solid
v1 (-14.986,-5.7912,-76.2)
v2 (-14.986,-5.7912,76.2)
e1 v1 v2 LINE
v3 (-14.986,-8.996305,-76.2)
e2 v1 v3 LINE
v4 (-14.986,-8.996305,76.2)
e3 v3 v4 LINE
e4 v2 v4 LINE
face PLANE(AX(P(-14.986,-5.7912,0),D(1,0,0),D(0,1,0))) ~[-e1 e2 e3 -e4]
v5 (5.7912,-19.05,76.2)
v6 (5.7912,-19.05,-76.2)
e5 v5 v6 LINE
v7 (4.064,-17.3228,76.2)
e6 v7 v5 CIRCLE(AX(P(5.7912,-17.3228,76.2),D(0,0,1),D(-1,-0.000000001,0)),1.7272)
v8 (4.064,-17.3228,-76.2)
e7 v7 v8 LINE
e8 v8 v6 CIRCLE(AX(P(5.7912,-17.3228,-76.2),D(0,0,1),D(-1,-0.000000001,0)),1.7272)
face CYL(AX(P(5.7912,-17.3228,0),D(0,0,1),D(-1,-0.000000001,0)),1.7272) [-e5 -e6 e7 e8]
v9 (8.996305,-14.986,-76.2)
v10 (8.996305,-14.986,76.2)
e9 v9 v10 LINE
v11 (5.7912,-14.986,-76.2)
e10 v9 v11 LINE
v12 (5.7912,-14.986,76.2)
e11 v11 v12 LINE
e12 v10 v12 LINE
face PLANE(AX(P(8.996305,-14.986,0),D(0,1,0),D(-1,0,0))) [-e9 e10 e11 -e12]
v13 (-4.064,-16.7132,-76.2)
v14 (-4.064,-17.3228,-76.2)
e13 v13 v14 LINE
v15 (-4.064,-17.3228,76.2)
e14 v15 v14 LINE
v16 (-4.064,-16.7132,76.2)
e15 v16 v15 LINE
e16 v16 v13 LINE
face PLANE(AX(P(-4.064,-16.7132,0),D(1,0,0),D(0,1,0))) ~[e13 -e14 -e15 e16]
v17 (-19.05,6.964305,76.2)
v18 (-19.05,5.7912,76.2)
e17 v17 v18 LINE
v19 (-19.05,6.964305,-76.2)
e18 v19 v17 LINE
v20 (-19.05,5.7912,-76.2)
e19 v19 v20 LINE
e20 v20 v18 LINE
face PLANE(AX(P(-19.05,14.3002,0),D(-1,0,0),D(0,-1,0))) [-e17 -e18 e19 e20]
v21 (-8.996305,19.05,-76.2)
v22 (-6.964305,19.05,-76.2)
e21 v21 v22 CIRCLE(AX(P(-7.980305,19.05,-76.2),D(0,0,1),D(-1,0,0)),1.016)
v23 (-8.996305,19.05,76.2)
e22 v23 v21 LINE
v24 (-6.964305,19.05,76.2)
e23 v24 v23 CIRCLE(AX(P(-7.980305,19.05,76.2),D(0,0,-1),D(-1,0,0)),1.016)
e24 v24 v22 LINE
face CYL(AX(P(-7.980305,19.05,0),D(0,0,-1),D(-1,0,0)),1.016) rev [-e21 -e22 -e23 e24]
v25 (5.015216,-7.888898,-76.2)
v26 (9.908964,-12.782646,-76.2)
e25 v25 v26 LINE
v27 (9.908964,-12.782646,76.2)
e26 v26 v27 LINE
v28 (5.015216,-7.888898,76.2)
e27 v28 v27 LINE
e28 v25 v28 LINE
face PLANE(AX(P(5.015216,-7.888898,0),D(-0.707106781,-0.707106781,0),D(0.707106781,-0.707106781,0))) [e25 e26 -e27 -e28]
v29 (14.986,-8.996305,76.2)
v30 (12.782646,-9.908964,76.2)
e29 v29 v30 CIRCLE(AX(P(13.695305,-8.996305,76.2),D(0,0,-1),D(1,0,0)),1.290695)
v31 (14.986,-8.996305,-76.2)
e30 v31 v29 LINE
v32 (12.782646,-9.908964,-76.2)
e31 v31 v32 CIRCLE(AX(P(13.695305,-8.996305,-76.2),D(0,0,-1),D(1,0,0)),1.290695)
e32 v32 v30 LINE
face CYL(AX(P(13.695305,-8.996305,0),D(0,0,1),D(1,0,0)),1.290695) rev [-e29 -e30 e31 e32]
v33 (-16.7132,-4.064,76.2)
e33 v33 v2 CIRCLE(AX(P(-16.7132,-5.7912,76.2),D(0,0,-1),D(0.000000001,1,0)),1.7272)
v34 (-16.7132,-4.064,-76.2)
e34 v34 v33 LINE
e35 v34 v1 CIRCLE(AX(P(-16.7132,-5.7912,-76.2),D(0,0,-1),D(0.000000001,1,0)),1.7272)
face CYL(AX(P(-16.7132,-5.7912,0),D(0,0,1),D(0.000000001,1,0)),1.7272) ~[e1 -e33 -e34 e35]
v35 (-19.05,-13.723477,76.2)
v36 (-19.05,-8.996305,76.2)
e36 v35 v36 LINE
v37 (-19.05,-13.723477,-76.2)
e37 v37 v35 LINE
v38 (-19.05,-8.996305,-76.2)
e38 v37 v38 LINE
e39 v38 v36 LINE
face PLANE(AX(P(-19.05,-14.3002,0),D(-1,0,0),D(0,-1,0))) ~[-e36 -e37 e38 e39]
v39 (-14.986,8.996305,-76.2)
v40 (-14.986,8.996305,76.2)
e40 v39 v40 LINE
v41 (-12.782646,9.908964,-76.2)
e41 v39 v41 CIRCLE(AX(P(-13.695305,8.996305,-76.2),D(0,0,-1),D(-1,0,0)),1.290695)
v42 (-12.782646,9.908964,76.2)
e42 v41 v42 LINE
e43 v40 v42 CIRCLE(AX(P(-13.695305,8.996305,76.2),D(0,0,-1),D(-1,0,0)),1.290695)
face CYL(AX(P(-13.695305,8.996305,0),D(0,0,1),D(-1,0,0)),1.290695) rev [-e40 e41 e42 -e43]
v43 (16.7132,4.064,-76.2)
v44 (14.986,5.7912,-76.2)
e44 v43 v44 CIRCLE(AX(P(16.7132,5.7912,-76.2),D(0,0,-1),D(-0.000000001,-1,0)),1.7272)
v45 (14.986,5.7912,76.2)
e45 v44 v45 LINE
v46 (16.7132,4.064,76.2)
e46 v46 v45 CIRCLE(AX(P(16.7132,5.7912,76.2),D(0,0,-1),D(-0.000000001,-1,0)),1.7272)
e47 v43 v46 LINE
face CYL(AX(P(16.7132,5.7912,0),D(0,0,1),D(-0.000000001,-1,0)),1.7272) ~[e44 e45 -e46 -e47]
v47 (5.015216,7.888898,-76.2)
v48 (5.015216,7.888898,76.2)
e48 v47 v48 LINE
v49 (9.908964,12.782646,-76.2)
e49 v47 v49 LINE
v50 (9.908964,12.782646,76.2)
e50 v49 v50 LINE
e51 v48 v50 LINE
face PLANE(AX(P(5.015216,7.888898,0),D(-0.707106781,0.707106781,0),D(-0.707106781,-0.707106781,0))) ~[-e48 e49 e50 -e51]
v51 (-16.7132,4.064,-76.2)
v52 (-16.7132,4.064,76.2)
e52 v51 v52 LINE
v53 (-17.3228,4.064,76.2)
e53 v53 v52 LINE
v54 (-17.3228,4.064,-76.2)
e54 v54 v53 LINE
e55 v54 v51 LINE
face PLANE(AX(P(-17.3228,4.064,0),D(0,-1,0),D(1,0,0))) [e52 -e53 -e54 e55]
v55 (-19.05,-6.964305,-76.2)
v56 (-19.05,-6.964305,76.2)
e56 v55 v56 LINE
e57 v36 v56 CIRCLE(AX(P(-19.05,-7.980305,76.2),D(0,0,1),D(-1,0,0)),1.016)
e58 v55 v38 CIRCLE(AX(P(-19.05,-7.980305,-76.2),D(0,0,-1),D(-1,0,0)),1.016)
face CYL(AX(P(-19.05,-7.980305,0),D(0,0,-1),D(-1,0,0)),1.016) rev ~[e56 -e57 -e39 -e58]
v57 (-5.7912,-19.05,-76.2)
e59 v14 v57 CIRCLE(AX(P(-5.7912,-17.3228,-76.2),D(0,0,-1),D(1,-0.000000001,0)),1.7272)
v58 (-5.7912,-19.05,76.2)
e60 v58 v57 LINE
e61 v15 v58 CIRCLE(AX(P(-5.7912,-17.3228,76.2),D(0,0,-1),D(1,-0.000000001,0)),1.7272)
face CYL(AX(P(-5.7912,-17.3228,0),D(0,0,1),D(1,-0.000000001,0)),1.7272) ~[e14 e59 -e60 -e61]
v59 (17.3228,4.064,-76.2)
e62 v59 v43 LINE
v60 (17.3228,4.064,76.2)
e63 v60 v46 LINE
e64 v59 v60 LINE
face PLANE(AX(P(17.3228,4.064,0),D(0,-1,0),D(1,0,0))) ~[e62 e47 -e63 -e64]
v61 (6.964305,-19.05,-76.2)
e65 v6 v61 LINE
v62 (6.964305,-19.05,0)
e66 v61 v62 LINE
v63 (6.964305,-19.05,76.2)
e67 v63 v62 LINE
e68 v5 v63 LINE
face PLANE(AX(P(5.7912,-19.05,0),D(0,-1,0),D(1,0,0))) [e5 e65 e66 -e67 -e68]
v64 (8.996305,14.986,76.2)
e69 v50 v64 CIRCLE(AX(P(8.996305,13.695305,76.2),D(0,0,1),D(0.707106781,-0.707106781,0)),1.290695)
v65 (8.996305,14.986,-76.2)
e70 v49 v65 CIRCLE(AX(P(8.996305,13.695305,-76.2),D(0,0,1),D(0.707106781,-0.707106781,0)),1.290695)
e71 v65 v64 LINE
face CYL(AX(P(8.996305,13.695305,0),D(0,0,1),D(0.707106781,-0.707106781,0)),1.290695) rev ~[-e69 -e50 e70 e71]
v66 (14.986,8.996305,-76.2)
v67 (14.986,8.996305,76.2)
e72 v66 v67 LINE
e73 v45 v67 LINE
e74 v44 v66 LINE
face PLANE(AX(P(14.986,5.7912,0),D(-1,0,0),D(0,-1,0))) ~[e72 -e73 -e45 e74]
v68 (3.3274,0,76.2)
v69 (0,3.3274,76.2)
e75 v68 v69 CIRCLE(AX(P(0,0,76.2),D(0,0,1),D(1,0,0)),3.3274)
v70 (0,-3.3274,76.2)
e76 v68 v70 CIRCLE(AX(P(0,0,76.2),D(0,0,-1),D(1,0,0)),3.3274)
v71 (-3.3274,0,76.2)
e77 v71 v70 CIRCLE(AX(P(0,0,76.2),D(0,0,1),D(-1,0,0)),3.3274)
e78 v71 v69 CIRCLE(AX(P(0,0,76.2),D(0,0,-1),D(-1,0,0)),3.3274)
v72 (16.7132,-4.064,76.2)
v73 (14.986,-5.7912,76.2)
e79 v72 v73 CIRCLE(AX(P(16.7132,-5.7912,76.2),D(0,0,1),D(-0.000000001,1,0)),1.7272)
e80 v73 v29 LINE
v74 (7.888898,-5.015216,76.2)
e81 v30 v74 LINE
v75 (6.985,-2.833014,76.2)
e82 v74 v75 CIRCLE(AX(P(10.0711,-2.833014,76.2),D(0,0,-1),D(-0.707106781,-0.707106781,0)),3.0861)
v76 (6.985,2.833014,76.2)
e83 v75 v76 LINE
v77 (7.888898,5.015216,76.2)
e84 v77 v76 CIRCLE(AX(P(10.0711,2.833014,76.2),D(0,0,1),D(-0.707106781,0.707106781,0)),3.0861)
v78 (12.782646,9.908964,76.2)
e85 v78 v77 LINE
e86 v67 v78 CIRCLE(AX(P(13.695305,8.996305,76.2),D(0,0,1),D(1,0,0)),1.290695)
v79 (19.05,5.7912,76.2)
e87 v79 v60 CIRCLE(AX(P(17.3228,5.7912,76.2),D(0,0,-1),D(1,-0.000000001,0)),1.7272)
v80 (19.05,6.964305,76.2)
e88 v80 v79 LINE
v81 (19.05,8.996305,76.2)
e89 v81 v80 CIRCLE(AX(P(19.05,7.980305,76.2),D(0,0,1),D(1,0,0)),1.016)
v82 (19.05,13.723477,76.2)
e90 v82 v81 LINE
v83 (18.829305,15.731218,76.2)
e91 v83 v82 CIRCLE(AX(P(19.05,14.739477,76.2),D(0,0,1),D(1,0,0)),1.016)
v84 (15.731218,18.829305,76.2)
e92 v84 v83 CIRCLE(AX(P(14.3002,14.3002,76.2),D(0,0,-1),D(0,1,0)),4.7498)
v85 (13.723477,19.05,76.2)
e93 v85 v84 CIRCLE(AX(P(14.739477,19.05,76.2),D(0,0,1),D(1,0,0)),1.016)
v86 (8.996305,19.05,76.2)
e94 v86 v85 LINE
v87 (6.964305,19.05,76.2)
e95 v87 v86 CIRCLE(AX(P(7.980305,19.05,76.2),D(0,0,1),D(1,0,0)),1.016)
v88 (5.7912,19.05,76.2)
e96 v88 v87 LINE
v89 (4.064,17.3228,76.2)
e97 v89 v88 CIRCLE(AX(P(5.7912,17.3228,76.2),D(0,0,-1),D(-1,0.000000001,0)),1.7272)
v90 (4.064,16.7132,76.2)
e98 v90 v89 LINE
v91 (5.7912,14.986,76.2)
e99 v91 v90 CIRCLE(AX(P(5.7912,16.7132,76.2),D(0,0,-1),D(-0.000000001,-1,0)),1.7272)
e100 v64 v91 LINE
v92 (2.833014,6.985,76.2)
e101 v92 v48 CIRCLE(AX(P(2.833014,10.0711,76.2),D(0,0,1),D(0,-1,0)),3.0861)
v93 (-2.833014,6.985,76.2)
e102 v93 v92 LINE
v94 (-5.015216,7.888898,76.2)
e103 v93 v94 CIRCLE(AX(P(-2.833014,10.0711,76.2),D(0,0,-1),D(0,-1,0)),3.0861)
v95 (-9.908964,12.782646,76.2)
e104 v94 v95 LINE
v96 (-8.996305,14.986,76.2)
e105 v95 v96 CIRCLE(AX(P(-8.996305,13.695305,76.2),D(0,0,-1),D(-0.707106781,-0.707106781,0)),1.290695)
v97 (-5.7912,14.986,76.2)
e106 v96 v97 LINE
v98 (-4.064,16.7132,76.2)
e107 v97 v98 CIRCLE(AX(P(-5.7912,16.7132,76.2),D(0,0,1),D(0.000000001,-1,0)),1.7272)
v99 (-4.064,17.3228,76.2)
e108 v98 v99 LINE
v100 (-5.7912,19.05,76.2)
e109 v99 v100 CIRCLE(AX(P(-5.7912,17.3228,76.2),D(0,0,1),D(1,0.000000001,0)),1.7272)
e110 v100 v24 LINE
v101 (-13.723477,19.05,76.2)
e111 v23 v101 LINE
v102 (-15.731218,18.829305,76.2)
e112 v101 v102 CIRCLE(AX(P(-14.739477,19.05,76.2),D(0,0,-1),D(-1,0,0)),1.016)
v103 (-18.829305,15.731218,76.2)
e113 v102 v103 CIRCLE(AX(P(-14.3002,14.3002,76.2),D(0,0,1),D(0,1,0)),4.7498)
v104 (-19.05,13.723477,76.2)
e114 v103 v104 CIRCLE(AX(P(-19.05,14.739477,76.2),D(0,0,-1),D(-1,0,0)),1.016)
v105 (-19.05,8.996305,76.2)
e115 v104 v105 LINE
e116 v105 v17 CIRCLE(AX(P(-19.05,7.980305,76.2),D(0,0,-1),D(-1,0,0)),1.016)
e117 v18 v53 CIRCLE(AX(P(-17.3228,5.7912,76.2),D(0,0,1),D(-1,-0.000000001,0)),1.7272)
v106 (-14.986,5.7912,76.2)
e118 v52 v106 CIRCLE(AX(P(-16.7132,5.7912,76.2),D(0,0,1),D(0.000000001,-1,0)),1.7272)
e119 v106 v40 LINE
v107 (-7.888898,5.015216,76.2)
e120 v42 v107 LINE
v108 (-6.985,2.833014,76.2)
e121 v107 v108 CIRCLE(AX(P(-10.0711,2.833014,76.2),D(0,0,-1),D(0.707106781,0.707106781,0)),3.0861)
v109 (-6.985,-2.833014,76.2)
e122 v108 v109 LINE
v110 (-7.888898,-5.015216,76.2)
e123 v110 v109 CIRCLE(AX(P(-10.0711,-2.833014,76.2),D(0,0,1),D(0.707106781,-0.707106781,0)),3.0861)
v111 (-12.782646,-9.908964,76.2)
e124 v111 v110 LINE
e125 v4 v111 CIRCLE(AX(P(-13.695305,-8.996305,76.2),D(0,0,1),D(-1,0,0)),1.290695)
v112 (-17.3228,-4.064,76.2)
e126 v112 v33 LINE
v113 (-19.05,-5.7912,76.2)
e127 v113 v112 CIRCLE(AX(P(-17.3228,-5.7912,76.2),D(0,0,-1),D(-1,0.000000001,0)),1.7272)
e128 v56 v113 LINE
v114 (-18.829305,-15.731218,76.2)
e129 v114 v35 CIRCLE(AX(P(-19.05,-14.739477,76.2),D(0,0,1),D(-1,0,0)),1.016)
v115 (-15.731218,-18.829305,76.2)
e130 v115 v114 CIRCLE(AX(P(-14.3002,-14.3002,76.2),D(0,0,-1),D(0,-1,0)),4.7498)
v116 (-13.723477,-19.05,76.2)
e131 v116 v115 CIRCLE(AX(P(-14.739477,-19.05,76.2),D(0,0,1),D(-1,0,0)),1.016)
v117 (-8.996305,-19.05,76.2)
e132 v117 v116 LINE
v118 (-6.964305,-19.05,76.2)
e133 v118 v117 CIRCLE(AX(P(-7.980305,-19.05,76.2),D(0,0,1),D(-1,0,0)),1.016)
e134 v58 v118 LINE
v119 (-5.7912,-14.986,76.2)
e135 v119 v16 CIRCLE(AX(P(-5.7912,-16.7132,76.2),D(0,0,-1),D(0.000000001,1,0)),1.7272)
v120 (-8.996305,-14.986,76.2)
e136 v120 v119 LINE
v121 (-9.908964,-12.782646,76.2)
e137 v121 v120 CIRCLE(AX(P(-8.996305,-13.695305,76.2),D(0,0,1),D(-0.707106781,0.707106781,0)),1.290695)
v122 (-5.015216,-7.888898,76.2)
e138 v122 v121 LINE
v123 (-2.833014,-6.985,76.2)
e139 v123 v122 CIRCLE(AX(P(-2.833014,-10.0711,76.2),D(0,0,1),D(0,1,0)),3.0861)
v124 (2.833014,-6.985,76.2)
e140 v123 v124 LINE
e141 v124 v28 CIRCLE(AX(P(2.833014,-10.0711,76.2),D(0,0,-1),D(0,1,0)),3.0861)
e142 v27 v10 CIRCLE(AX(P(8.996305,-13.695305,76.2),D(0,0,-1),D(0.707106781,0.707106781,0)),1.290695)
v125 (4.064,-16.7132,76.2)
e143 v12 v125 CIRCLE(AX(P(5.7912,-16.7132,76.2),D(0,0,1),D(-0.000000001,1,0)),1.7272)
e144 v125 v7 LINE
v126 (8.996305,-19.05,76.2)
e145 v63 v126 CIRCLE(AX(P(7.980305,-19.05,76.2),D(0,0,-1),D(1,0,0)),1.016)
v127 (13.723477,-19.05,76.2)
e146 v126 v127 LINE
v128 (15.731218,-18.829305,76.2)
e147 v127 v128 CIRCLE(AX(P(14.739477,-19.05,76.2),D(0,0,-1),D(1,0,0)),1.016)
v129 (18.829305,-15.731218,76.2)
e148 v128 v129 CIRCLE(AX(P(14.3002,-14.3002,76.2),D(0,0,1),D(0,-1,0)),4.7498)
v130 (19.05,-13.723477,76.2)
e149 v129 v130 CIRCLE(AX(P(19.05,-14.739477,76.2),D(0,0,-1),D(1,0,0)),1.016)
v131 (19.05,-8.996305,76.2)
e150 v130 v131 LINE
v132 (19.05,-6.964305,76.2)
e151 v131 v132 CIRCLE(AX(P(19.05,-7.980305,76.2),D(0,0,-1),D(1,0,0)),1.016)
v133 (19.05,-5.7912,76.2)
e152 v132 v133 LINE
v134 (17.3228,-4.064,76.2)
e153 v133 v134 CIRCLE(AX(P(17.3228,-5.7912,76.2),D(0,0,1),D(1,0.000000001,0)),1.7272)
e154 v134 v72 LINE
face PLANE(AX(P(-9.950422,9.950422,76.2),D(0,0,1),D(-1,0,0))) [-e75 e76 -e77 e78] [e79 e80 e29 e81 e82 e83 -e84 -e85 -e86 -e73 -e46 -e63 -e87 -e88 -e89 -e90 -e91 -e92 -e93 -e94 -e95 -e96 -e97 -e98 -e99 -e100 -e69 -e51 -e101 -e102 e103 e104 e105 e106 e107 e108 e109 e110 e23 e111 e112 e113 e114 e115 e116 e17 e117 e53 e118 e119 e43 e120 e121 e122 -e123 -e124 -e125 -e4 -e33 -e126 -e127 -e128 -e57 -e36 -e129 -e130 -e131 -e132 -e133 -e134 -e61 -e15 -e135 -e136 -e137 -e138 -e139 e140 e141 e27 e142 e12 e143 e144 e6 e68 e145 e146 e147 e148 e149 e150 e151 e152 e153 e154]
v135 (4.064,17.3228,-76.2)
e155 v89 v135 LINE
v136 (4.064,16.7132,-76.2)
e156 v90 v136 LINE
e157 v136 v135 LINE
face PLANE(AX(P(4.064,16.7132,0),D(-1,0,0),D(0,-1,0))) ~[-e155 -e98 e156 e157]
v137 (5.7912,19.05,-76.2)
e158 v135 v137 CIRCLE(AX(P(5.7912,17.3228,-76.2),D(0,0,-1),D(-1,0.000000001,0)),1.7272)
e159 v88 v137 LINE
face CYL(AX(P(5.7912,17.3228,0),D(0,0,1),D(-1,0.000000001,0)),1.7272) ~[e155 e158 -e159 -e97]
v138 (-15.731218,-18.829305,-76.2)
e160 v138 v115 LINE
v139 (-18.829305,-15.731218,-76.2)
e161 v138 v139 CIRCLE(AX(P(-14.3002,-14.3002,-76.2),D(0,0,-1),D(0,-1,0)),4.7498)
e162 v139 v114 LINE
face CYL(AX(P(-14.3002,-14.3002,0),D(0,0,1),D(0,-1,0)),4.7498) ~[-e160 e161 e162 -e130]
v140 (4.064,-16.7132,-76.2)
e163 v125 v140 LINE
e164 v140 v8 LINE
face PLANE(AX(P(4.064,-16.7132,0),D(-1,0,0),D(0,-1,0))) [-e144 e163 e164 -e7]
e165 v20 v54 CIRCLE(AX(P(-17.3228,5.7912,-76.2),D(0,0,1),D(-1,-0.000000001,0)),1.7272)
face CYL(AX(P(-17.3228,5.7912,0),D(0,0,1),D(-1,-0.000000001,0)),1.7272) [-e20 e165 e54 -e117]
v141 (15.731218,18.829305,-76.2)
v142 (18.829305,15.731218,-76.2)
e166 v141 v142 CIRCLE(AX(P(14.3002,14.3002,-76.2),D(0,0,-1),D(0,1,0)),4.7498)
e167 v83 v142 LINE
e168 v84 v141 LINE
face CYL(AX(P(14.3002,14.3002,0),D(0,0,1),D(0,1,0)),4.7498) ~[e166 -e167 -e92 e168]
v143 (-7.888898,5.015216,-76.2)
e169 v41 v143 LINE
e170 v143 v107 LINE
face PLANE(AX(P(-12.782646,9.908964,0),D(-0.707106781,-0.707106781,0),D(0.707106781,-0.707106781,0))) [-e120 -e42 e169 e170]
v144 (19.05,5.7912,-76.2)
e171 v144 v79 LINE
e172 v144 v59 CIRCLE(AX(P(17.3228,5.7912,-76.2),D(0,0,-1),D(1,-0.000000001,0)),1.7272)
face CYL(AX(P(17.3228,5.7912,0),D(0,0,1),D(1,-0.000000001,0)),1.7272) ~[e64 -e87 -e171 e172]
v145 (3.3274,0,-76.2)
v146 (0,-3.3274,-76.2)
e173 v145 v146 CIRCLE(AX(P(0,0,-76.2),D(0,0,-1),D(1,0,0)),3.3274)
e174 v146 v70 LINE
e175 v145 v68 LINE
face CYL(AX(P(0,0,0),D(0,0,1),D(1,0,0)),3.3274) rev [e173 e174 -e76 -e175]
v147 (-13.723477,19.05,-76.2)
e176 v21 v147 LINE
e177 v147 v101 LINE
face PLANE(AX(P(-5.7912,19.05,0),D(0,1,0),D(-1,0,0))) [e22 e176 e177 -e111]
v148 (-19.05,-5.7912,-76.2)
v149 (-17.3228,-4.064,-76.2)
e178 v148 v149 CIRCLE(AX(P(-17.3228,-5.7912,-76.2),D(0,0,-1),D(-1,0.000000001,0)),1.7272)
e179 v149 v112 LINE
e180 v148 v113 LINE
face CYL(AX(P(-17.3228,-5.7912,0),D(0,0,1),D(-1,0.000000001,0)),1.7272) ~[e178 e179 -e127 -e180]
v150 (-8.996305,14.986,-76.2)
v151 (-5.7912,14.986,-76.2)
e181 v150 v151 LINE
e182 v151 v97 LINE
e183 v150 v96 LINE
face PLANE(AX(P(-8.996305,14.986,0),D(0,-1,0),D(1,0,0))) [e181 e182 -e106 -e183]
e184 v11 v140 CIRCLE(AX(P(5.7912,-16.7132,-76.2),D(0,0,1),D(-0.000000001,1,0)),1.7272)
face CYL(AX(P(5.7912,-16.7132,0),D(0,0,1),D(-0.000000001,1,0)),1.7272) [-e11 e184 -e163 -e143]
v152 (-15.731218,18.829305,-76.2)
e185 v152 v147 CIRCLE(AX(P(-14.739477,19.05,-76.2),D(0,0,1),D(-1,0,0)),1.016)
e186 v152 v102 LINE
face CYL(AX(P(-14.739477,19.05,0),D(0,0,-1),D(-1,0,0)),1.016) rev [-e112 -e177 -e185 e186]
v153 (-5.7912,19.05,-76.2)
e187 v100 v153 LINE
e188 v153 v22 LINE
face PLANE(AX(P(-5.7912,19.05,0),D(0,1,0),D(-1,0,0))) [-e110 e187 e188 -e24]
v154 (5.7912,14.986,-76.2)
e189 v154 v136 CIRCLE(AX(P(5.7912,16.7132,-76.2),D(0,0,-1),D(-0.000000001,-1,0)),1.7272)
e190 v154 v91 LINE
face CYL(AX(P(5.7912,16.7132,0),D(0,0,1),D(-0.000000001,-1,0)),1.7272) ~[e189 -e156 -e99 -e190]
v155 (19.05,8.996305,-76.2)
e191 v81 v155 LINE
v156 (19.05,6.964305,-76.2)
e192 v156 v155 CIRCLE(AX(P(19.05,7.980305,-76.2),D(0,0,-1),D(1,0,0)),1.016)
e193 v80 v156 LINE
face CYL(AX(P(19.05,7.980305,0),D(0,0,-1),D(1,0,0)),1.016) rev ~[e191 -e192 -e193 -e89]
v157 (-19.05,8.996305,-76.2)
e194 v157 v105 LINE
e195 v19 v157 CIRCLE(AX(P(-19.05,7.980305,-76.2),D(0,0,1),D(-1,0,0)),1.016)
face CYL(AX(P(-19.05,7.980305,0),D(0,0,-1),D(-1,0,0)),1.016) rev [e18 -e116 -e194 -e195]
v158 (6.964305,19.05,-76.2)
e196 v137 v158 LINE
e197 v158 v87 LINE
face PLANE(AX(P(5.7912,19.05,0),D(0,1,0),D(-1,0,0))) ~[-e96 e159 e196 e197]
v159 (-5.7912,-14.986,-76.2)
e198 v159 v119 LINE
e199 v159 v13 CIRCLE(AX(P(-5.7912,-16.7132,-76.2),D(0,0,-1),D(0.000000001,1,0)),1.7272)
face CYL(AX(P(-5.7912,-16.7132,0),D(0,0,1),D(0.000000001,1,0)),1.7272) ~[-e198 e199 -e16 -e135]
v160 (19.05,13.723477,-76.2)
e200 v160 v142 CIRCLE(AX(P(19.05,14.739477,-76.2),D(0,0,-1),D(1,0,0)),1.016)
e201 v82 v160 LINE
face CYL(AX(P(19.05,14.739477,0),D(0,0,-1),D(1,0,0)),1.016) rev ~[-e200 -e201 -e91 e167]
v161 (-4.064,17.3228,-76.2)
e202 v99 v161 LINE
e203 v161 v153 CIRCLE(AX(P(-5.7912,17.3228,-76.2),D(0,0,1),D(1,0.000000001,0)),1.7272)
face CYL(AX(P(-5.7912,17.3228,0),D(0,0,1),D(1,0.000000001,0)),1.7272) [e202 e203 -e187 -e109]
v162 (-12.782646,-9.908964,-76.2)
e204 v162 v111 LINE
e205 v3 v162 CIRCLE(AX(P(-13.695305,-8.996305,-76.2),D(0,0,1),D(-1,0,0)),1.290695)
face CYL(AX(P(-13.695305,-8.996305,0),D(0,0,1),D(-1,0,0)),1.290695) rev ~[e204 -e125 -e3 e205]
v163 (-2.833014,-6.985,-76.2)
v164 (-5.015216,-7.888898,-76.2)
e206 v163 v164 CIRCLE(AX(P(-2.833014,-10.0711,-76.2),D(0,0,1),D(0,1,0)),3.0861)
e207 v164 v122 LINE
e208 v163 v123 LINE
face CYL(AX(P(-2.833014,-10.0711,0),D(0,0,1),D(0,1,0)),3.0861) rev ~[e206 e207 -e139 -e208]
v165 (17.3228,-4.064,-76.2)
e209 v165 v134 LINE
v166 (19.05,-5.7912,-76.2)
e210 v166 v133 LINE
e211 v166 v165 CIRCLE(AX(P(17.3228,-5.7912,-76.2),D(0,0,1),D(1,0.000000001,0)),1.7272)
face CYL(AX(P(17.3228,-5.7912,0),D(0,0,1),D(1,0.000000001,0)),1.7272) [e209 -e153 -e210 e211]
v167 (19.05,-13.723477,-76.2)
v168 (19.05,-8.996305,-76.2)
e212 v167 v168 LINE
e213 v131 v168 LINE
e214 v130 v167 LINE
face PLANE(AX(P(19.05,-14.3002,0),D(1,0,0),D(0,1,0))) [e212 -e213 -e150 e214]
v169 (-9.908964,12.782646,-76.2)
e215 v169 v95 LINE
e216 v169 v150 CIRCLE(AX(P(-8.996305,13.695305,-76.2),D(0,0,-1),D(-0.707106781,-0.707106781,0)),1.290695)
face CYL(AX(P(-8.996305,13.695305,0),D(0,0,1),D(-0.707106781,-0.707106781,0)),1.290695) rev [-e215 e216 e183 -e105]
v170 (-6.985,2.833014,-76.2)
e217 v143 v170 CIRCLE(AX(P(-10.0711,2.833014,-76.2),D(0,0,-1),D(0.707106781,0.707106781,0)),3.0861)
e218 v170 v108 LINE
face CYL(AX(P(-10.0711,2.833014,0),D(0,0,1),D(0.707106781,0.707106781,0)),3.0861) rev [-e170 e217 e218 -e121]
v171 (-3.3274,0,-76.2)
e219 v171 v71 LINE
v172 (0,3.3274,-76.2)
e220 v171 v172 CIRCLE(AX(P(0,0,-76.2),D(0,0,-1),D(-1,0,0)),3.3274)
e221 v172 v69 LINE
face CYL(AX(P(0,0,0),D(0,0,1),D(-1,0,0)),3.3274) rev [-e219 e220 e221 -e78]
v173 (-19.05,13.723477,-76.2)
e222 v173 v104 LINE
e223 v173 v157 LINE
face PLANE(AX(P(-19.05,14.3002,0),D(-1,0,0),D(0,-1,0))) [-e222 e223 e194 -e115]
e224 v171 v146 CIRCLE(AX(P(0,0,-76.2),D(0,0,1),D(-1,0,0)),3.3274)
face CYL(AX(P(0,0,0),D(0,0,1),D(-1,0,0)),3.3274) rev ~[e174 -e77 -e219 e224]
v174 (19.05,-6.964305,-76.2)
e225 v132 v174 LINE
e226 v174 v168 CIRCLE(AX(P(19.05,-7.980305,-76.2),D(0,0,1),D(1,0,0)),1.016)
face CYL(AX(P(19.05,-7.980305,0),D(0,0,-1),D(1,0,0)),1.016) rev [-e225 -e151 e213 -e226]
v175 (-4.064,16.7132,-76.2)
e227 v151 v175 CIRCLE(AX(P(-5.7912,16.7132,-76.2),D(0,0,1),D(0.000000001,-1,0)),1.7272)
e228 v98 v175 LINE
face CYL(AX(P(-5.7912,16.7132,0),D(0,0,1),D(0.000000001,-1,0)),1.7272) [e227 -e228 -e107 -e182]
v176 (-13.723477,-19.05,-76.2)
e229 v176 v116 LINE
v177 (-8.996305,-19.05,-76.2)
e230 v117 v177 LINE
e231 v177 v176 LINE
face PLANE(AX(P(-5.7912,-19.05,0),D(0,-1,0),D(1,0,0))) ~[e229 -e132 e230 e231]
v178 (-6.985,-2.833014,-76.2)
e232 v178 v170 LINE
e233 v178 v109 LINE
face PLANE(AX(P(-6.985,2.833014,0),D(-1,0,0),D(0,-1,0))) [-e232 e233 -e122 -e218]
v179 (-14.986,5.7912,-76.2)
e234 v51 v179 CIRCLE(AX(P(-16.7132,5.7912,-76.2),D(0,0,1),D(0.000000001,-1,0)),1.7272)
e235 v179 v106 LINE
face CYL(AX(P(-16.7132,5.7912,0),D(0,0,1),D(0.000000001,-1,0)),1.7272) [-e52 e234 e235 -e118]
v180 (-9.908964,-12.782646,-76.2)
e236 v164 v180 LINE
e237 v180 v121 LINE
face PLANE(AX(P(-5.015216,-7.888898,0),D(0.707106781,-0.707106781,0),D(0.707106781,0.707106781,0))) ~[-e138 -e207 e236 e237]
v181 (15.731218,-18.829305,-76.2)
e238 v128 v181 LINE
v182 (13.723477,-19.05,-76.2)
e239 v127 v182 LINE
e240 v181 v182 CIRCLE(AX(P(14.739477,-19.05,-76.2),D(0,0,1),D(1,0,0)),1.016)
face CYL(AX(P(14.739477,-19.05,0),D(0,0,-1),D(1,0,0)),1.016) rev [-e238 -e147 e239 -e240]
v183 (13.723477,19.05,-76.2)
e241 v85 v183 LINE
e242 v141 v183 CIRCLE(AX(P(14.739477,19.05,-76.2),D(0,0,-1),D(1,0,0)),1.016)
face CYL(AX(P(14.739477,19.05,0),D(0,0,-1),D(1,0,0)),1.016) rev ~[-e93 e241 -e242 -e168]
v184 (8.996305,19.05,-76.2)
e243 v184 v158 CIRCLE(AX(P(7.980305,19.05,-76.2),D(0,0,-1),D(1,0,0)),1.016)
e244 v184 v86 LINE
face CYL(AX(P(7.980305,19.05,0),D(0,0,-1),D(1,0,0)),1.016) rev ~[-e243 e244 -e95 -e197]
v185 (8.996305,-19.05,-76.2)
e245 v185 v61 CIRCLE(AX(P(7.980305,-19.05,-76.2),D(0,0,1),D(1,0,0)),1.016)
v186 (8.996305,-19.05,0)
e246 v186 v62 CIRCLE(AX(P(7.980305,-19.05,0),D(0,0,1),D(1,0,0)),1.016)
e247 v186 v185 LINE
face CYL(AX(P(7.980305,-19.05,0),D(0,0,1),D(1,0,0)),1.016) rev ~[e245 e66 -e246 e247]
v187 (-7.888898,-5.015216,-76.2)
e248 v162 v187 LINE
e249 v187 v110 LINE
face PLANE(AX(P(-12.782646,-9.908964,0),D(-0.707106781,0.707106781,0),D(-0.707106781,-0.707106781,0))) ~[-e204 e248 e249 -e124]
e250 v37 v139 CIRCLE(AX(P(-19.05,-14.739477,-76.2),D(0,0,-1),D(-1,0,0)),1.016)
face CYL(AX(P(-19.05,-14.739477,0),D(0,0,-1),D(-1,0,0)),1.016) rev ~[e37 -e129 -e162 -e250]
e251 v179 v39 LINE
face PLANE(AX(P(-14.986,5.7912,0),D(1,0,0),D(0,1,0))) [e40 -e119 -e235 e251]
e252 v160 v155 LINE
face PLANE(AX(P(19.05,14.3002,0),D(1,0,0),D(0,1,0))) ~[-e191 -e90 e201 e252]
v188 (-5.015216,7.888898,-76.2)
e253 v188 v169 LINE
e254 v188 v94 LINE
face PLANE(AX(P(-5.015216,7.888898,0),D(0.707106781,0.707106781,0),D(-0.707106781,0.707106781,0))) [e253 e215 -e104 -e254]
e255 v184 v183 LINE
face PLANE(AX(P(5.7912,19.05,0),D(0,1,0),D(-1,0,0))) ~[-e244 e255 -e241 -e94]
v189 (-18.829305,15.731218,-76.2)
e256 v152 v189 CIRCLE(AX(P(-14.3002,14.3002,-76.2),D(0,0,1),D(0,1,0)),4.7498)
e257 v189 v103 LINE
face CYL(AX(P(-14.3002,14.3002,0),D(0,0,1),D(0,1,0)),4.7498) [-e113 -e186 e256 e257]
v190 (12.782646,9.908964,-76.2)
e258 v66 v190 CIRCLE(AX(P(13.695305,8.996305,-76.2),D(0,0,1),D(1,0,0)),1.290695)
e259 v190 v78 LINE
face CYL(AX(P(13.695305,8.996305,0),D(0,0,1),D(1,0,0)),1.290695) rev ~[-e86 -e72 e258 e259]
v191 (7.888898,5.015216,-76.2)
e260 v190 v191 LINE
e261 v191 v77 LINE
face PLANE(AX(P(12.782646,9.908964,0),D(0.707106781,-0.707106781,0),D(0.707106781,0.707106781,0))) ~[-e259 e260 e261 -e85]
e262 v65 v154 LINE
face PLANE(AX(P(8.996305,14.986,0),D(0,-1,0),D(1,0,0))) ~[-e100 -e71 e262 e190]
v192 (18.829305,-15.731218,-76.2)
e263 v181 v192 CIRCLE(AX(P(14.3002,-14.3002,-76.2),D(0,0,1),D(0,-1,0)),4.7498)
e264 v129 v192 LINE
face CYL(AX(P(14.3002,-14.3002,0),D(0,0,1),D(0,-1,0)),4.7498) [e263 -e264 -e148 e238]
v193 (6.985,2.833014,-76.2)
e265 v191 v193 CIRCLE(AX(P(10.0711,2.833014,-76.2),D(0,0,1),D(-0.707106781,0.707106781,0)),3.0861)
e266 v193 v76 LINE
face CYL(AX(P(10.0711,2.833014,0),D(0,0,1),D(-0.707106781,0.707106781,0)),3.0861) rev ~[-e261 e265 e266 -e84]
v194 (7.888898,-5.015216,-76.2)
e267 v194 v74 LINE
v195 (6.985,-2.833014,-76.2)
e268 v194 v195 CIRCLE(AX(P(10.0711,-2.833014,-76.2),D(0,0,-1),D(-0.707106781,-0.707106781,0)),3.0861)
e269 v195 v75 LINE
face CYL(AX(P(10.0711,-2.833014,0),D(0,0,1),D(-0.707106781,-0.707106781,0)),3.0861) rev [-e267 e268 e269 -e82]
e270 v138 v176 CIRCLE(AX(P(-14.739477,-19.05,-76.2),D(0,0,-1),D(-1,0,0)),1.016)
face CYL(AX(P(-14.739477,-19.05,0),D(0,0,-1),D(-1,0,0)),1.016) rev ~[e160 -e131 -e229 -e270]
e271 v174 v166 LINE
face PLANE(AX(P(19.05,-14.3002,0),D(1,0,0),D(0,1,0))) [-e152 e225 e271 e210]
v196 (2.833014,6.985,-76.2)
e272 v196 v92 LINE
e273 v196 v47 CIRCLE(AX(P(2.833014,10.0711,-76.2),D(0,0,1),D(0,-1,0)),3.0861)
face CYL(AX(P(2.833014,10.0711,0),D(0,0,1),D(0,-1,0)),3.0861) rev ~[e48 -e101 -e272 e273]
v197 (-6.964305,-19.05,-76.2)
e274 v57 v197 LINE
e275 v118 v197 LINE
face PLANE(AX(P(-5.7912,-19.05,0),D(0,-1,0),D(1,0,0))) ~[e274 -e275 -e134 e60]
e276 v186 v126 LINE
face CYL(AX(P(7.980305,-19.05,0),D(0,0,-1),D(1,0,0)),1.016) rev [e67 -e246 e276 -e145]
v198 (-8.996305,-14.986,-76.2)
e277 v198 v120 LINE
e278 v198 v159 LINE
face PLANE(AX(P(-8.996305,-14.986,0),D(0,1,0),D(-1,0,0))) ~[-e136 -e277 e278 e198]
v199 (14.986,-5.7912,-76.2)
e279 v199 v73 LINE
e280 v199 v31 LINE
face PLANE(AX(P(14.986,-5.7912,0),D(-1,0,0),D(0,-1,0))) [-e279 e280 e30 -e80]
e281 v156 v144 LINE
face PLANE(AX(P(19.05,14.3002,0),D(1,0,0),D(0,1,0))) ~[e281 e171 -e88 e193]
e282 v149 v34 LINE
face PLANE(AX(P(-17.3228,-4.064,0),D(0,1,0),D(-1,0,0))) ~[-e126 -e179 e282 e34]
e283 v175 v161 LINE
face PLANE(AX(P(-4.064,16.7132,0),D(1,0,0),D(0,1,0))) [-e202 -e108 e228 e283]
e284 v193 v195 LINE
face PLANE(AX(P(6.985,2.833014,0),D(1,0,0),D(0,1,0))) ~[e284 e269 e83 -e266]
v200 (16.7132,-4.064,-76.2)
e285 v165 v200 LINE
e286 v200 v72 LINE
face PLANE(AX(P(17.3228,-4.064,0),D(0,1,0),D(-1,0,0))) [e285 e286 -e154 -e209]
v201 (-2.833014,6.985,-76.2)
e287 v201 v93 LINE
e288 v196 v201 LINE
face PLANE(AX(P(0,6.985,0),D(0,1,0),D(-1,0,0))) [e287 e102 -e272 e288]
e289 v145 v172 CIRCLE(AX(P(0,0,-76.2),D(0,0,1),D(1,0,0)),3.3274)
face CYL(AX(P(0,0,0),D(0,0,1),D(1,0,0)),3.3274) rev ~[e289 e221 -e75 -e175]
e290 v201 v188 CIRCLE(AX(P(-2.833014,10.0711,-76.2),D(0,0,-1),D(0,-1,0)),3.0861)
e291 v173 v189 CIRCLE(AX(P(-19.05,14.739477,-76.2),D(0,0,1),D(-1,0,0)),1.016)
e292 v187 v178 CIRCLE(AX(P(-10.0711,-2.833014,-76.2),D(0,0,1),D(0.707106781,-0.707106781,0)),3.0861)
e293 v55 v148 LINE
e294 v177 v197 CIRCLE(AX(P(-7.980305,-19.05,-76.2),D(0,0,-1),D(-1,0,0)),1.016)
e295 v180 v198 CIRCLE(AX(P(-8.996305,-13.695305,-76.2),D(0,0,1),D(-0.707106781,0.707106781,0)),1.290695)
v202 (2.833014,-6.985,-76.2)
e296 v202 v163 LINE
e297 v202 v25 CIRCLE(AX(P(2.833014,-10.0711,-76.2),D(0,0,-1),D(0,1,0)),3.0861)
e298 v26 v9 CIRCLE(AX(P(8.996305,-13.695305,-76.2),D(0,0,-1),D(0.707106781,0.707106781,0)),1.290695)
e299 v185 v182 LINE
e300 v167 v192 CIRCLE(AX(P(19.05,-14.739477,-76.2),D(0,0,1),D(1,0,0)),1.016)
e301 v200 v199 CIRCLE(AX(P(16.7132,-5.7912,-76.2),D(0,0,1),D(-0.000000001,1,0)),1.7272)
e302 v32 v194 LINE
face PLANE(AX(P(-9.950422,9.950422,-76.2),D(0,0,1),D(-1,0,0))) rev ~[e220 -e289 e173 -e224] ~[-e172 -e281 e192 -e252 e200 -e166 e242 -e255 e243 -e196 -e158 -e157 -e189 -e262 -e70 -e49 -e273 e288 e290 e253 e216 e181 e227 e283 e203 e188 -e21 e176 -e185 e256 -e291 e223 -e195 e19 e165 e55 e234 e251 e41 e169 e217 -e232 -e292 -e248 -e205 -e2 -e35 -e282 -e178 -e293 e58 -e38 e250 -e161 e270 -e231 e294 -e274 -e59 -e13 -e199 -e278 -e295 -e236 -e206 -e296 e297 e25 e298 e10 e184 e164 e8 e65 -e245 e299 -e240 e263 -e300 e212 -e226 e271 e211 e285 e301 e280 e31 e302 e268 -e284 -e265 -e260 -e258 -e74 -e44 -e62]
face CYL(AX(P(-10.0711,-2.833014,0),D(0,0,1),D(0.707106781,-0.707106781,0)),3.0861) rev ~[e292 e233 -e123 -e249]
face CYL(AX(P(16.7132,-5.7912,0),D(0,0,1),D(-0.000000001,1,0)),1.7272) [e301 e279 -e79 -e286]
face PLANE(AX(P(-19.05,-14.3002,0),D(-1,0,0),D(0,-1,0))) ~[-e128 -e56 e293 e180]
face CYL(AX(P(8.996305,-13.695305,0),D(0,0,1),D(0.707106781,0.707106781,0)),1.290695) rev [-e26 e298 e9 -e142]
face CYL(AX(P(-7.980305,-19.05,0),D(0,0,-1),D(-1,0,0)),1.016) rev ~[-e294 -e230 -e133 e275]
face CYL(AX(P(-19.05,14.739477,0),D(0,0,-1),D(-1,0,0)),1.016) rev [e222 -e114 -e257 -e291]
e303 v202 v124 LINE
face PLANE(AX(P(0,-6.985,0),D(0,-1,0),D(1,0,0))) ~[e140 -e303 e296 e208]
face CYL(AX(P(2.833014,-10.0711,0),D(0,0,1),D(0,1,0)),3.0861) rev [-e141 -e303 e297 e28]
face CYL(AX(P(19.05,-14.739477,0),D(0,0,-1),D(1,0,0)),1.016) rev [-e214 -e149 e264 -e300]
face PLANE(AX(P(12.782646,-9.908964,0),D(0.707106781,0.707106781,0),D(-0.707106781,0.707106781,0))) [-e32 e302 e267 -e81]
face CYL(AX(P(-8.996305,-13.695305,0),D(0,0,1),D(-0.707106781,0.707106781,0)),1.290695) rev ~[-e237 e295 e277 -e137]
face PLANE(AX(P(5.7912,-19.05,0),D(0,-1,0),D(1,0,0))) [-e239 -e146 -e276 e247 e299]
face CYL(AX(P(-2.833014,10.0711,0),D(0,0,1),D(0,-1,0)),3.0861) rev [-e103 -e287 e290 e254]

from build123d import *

# Parameters (mm, degrees)
BOSS_EXTRUDE1_DEPTH     = 76.2
SKETCH5_R               = 1.016
CUT_EXTRUDE1_DEPTH      = 77.2
CUT_EXTRUDE1_DEPTH_BACK = 77.2


with BuildPart() as part:
    # Sketch4 → Boss-Extrude1 (new body, symmetric)
    with BuildSketch(Plane.XY):
        with BuildLine():
            Line((5.7912, -19.05), (14.3002, -19.05))
            ThreePointArc((14.3002, -19.05), (17.658815789, -17.658815789), (19.05, -14.3002))
            Line((19.05, -14.3002), (19.05, -5.7912))
            ThreePointArc((19.05, -5.7912), (18.544114832, -4.569885168), (17.3228, -4.064))
            Line((17.3228, -4.064), (16.7132, -4.064))
            ThreePointArc((16.7132, -4.064), (15.491885168, -4.569885168), (14.986, -5.7912))
            Line((14.986, -5.7912), (14.986, -8.996305235))
            ThreePointArc((14.986, -8.996305235), (14.189232738, -10.188751711), (12.782646215, -9.908964256))
            Line((12.782646215, -9.908964256), (7.888897763, -5.015215804))
            ThreePointArc((7.888897763, -5.015215804), (7.219915375, -4.014012907), (6.985, -2.833013566))
            Line((6.985, -2.833013566), (6.985, 0))
            Line((6.985, 0), (3.3274, 0))
            ThreePointArc((3.3274, 0), (2.352827104, -2.352827104), (0, -3.3274))
            Line((0, -3.3274), (0, -6.985))
            Line((0, -6.985), (2.833013566, -6.985))
            ThreePointArc((2.833013566, -6.985), (4.014012907, -7.219915375), (5.015215804, -7.888897763))
            Line((5.015215804, -7.888897763), (9.908964256, -12.782646215))
            ThreePointArc((9.908964256, -12.782646215), (10.188751711, -14.189232738), (8.996305235, -14.986))
            Line((8.996305235, -14.986), (5.7912, -14.986))
            ThreePointArc((5.7912, -14.986), (4.569885168, -15.491885168), (4.064, -16.7132))
            Line((4.064, -16.7132), (4.064, -17.3228))
            ThreePointArc((4.064, -17.3228), (4.569885168, -18.544114832), (5.7912, -19.05))
        make_face()
    extrude(amount=BOSS_EXTRUDE1_DEPTH, both=True)

    # Sketch5 → Cut-Extrude1 (cut, two sides)
    with BuildSketch(Plane.XY) as cut_extrude1_sk:
        with Locations((14.739477062, -19.05)):
            Circle(SKETCH5_R)
        with Locations((7.980305235, -19.05)):
            Circle(SKETCH5_R)
        with Locations((19.05, -14.739477062)):
            Circle(SKETCH5_R)
        with Locations((19.05, -7.980305235)):
            Circle(SKETCH5_R)
    extrude(amount=CUT_EXTRUDE1_DEPTH, mode=Mode.SUBTRACT)
    extrude(cut_extrude1_sk.sketch, amount=-CUT_EXTRUDE1_DEPTH_BACK, mode=Mode.SUBTRACT)

    # Mirror1: part across plane


with BuildPart() as part_1:
    add(part.part)
    add(part.part.mirror(Plane(origin=(0, 0, 0), x_dir=(0, 0, 1), z_dir=(1, 0, 0))))

    # Mirror2: part across plane


with BuildPart() as part_2:
    add(part_1.part)
    add(part_1.part.mirror(Plane.ZX))


solid = part_2.part
